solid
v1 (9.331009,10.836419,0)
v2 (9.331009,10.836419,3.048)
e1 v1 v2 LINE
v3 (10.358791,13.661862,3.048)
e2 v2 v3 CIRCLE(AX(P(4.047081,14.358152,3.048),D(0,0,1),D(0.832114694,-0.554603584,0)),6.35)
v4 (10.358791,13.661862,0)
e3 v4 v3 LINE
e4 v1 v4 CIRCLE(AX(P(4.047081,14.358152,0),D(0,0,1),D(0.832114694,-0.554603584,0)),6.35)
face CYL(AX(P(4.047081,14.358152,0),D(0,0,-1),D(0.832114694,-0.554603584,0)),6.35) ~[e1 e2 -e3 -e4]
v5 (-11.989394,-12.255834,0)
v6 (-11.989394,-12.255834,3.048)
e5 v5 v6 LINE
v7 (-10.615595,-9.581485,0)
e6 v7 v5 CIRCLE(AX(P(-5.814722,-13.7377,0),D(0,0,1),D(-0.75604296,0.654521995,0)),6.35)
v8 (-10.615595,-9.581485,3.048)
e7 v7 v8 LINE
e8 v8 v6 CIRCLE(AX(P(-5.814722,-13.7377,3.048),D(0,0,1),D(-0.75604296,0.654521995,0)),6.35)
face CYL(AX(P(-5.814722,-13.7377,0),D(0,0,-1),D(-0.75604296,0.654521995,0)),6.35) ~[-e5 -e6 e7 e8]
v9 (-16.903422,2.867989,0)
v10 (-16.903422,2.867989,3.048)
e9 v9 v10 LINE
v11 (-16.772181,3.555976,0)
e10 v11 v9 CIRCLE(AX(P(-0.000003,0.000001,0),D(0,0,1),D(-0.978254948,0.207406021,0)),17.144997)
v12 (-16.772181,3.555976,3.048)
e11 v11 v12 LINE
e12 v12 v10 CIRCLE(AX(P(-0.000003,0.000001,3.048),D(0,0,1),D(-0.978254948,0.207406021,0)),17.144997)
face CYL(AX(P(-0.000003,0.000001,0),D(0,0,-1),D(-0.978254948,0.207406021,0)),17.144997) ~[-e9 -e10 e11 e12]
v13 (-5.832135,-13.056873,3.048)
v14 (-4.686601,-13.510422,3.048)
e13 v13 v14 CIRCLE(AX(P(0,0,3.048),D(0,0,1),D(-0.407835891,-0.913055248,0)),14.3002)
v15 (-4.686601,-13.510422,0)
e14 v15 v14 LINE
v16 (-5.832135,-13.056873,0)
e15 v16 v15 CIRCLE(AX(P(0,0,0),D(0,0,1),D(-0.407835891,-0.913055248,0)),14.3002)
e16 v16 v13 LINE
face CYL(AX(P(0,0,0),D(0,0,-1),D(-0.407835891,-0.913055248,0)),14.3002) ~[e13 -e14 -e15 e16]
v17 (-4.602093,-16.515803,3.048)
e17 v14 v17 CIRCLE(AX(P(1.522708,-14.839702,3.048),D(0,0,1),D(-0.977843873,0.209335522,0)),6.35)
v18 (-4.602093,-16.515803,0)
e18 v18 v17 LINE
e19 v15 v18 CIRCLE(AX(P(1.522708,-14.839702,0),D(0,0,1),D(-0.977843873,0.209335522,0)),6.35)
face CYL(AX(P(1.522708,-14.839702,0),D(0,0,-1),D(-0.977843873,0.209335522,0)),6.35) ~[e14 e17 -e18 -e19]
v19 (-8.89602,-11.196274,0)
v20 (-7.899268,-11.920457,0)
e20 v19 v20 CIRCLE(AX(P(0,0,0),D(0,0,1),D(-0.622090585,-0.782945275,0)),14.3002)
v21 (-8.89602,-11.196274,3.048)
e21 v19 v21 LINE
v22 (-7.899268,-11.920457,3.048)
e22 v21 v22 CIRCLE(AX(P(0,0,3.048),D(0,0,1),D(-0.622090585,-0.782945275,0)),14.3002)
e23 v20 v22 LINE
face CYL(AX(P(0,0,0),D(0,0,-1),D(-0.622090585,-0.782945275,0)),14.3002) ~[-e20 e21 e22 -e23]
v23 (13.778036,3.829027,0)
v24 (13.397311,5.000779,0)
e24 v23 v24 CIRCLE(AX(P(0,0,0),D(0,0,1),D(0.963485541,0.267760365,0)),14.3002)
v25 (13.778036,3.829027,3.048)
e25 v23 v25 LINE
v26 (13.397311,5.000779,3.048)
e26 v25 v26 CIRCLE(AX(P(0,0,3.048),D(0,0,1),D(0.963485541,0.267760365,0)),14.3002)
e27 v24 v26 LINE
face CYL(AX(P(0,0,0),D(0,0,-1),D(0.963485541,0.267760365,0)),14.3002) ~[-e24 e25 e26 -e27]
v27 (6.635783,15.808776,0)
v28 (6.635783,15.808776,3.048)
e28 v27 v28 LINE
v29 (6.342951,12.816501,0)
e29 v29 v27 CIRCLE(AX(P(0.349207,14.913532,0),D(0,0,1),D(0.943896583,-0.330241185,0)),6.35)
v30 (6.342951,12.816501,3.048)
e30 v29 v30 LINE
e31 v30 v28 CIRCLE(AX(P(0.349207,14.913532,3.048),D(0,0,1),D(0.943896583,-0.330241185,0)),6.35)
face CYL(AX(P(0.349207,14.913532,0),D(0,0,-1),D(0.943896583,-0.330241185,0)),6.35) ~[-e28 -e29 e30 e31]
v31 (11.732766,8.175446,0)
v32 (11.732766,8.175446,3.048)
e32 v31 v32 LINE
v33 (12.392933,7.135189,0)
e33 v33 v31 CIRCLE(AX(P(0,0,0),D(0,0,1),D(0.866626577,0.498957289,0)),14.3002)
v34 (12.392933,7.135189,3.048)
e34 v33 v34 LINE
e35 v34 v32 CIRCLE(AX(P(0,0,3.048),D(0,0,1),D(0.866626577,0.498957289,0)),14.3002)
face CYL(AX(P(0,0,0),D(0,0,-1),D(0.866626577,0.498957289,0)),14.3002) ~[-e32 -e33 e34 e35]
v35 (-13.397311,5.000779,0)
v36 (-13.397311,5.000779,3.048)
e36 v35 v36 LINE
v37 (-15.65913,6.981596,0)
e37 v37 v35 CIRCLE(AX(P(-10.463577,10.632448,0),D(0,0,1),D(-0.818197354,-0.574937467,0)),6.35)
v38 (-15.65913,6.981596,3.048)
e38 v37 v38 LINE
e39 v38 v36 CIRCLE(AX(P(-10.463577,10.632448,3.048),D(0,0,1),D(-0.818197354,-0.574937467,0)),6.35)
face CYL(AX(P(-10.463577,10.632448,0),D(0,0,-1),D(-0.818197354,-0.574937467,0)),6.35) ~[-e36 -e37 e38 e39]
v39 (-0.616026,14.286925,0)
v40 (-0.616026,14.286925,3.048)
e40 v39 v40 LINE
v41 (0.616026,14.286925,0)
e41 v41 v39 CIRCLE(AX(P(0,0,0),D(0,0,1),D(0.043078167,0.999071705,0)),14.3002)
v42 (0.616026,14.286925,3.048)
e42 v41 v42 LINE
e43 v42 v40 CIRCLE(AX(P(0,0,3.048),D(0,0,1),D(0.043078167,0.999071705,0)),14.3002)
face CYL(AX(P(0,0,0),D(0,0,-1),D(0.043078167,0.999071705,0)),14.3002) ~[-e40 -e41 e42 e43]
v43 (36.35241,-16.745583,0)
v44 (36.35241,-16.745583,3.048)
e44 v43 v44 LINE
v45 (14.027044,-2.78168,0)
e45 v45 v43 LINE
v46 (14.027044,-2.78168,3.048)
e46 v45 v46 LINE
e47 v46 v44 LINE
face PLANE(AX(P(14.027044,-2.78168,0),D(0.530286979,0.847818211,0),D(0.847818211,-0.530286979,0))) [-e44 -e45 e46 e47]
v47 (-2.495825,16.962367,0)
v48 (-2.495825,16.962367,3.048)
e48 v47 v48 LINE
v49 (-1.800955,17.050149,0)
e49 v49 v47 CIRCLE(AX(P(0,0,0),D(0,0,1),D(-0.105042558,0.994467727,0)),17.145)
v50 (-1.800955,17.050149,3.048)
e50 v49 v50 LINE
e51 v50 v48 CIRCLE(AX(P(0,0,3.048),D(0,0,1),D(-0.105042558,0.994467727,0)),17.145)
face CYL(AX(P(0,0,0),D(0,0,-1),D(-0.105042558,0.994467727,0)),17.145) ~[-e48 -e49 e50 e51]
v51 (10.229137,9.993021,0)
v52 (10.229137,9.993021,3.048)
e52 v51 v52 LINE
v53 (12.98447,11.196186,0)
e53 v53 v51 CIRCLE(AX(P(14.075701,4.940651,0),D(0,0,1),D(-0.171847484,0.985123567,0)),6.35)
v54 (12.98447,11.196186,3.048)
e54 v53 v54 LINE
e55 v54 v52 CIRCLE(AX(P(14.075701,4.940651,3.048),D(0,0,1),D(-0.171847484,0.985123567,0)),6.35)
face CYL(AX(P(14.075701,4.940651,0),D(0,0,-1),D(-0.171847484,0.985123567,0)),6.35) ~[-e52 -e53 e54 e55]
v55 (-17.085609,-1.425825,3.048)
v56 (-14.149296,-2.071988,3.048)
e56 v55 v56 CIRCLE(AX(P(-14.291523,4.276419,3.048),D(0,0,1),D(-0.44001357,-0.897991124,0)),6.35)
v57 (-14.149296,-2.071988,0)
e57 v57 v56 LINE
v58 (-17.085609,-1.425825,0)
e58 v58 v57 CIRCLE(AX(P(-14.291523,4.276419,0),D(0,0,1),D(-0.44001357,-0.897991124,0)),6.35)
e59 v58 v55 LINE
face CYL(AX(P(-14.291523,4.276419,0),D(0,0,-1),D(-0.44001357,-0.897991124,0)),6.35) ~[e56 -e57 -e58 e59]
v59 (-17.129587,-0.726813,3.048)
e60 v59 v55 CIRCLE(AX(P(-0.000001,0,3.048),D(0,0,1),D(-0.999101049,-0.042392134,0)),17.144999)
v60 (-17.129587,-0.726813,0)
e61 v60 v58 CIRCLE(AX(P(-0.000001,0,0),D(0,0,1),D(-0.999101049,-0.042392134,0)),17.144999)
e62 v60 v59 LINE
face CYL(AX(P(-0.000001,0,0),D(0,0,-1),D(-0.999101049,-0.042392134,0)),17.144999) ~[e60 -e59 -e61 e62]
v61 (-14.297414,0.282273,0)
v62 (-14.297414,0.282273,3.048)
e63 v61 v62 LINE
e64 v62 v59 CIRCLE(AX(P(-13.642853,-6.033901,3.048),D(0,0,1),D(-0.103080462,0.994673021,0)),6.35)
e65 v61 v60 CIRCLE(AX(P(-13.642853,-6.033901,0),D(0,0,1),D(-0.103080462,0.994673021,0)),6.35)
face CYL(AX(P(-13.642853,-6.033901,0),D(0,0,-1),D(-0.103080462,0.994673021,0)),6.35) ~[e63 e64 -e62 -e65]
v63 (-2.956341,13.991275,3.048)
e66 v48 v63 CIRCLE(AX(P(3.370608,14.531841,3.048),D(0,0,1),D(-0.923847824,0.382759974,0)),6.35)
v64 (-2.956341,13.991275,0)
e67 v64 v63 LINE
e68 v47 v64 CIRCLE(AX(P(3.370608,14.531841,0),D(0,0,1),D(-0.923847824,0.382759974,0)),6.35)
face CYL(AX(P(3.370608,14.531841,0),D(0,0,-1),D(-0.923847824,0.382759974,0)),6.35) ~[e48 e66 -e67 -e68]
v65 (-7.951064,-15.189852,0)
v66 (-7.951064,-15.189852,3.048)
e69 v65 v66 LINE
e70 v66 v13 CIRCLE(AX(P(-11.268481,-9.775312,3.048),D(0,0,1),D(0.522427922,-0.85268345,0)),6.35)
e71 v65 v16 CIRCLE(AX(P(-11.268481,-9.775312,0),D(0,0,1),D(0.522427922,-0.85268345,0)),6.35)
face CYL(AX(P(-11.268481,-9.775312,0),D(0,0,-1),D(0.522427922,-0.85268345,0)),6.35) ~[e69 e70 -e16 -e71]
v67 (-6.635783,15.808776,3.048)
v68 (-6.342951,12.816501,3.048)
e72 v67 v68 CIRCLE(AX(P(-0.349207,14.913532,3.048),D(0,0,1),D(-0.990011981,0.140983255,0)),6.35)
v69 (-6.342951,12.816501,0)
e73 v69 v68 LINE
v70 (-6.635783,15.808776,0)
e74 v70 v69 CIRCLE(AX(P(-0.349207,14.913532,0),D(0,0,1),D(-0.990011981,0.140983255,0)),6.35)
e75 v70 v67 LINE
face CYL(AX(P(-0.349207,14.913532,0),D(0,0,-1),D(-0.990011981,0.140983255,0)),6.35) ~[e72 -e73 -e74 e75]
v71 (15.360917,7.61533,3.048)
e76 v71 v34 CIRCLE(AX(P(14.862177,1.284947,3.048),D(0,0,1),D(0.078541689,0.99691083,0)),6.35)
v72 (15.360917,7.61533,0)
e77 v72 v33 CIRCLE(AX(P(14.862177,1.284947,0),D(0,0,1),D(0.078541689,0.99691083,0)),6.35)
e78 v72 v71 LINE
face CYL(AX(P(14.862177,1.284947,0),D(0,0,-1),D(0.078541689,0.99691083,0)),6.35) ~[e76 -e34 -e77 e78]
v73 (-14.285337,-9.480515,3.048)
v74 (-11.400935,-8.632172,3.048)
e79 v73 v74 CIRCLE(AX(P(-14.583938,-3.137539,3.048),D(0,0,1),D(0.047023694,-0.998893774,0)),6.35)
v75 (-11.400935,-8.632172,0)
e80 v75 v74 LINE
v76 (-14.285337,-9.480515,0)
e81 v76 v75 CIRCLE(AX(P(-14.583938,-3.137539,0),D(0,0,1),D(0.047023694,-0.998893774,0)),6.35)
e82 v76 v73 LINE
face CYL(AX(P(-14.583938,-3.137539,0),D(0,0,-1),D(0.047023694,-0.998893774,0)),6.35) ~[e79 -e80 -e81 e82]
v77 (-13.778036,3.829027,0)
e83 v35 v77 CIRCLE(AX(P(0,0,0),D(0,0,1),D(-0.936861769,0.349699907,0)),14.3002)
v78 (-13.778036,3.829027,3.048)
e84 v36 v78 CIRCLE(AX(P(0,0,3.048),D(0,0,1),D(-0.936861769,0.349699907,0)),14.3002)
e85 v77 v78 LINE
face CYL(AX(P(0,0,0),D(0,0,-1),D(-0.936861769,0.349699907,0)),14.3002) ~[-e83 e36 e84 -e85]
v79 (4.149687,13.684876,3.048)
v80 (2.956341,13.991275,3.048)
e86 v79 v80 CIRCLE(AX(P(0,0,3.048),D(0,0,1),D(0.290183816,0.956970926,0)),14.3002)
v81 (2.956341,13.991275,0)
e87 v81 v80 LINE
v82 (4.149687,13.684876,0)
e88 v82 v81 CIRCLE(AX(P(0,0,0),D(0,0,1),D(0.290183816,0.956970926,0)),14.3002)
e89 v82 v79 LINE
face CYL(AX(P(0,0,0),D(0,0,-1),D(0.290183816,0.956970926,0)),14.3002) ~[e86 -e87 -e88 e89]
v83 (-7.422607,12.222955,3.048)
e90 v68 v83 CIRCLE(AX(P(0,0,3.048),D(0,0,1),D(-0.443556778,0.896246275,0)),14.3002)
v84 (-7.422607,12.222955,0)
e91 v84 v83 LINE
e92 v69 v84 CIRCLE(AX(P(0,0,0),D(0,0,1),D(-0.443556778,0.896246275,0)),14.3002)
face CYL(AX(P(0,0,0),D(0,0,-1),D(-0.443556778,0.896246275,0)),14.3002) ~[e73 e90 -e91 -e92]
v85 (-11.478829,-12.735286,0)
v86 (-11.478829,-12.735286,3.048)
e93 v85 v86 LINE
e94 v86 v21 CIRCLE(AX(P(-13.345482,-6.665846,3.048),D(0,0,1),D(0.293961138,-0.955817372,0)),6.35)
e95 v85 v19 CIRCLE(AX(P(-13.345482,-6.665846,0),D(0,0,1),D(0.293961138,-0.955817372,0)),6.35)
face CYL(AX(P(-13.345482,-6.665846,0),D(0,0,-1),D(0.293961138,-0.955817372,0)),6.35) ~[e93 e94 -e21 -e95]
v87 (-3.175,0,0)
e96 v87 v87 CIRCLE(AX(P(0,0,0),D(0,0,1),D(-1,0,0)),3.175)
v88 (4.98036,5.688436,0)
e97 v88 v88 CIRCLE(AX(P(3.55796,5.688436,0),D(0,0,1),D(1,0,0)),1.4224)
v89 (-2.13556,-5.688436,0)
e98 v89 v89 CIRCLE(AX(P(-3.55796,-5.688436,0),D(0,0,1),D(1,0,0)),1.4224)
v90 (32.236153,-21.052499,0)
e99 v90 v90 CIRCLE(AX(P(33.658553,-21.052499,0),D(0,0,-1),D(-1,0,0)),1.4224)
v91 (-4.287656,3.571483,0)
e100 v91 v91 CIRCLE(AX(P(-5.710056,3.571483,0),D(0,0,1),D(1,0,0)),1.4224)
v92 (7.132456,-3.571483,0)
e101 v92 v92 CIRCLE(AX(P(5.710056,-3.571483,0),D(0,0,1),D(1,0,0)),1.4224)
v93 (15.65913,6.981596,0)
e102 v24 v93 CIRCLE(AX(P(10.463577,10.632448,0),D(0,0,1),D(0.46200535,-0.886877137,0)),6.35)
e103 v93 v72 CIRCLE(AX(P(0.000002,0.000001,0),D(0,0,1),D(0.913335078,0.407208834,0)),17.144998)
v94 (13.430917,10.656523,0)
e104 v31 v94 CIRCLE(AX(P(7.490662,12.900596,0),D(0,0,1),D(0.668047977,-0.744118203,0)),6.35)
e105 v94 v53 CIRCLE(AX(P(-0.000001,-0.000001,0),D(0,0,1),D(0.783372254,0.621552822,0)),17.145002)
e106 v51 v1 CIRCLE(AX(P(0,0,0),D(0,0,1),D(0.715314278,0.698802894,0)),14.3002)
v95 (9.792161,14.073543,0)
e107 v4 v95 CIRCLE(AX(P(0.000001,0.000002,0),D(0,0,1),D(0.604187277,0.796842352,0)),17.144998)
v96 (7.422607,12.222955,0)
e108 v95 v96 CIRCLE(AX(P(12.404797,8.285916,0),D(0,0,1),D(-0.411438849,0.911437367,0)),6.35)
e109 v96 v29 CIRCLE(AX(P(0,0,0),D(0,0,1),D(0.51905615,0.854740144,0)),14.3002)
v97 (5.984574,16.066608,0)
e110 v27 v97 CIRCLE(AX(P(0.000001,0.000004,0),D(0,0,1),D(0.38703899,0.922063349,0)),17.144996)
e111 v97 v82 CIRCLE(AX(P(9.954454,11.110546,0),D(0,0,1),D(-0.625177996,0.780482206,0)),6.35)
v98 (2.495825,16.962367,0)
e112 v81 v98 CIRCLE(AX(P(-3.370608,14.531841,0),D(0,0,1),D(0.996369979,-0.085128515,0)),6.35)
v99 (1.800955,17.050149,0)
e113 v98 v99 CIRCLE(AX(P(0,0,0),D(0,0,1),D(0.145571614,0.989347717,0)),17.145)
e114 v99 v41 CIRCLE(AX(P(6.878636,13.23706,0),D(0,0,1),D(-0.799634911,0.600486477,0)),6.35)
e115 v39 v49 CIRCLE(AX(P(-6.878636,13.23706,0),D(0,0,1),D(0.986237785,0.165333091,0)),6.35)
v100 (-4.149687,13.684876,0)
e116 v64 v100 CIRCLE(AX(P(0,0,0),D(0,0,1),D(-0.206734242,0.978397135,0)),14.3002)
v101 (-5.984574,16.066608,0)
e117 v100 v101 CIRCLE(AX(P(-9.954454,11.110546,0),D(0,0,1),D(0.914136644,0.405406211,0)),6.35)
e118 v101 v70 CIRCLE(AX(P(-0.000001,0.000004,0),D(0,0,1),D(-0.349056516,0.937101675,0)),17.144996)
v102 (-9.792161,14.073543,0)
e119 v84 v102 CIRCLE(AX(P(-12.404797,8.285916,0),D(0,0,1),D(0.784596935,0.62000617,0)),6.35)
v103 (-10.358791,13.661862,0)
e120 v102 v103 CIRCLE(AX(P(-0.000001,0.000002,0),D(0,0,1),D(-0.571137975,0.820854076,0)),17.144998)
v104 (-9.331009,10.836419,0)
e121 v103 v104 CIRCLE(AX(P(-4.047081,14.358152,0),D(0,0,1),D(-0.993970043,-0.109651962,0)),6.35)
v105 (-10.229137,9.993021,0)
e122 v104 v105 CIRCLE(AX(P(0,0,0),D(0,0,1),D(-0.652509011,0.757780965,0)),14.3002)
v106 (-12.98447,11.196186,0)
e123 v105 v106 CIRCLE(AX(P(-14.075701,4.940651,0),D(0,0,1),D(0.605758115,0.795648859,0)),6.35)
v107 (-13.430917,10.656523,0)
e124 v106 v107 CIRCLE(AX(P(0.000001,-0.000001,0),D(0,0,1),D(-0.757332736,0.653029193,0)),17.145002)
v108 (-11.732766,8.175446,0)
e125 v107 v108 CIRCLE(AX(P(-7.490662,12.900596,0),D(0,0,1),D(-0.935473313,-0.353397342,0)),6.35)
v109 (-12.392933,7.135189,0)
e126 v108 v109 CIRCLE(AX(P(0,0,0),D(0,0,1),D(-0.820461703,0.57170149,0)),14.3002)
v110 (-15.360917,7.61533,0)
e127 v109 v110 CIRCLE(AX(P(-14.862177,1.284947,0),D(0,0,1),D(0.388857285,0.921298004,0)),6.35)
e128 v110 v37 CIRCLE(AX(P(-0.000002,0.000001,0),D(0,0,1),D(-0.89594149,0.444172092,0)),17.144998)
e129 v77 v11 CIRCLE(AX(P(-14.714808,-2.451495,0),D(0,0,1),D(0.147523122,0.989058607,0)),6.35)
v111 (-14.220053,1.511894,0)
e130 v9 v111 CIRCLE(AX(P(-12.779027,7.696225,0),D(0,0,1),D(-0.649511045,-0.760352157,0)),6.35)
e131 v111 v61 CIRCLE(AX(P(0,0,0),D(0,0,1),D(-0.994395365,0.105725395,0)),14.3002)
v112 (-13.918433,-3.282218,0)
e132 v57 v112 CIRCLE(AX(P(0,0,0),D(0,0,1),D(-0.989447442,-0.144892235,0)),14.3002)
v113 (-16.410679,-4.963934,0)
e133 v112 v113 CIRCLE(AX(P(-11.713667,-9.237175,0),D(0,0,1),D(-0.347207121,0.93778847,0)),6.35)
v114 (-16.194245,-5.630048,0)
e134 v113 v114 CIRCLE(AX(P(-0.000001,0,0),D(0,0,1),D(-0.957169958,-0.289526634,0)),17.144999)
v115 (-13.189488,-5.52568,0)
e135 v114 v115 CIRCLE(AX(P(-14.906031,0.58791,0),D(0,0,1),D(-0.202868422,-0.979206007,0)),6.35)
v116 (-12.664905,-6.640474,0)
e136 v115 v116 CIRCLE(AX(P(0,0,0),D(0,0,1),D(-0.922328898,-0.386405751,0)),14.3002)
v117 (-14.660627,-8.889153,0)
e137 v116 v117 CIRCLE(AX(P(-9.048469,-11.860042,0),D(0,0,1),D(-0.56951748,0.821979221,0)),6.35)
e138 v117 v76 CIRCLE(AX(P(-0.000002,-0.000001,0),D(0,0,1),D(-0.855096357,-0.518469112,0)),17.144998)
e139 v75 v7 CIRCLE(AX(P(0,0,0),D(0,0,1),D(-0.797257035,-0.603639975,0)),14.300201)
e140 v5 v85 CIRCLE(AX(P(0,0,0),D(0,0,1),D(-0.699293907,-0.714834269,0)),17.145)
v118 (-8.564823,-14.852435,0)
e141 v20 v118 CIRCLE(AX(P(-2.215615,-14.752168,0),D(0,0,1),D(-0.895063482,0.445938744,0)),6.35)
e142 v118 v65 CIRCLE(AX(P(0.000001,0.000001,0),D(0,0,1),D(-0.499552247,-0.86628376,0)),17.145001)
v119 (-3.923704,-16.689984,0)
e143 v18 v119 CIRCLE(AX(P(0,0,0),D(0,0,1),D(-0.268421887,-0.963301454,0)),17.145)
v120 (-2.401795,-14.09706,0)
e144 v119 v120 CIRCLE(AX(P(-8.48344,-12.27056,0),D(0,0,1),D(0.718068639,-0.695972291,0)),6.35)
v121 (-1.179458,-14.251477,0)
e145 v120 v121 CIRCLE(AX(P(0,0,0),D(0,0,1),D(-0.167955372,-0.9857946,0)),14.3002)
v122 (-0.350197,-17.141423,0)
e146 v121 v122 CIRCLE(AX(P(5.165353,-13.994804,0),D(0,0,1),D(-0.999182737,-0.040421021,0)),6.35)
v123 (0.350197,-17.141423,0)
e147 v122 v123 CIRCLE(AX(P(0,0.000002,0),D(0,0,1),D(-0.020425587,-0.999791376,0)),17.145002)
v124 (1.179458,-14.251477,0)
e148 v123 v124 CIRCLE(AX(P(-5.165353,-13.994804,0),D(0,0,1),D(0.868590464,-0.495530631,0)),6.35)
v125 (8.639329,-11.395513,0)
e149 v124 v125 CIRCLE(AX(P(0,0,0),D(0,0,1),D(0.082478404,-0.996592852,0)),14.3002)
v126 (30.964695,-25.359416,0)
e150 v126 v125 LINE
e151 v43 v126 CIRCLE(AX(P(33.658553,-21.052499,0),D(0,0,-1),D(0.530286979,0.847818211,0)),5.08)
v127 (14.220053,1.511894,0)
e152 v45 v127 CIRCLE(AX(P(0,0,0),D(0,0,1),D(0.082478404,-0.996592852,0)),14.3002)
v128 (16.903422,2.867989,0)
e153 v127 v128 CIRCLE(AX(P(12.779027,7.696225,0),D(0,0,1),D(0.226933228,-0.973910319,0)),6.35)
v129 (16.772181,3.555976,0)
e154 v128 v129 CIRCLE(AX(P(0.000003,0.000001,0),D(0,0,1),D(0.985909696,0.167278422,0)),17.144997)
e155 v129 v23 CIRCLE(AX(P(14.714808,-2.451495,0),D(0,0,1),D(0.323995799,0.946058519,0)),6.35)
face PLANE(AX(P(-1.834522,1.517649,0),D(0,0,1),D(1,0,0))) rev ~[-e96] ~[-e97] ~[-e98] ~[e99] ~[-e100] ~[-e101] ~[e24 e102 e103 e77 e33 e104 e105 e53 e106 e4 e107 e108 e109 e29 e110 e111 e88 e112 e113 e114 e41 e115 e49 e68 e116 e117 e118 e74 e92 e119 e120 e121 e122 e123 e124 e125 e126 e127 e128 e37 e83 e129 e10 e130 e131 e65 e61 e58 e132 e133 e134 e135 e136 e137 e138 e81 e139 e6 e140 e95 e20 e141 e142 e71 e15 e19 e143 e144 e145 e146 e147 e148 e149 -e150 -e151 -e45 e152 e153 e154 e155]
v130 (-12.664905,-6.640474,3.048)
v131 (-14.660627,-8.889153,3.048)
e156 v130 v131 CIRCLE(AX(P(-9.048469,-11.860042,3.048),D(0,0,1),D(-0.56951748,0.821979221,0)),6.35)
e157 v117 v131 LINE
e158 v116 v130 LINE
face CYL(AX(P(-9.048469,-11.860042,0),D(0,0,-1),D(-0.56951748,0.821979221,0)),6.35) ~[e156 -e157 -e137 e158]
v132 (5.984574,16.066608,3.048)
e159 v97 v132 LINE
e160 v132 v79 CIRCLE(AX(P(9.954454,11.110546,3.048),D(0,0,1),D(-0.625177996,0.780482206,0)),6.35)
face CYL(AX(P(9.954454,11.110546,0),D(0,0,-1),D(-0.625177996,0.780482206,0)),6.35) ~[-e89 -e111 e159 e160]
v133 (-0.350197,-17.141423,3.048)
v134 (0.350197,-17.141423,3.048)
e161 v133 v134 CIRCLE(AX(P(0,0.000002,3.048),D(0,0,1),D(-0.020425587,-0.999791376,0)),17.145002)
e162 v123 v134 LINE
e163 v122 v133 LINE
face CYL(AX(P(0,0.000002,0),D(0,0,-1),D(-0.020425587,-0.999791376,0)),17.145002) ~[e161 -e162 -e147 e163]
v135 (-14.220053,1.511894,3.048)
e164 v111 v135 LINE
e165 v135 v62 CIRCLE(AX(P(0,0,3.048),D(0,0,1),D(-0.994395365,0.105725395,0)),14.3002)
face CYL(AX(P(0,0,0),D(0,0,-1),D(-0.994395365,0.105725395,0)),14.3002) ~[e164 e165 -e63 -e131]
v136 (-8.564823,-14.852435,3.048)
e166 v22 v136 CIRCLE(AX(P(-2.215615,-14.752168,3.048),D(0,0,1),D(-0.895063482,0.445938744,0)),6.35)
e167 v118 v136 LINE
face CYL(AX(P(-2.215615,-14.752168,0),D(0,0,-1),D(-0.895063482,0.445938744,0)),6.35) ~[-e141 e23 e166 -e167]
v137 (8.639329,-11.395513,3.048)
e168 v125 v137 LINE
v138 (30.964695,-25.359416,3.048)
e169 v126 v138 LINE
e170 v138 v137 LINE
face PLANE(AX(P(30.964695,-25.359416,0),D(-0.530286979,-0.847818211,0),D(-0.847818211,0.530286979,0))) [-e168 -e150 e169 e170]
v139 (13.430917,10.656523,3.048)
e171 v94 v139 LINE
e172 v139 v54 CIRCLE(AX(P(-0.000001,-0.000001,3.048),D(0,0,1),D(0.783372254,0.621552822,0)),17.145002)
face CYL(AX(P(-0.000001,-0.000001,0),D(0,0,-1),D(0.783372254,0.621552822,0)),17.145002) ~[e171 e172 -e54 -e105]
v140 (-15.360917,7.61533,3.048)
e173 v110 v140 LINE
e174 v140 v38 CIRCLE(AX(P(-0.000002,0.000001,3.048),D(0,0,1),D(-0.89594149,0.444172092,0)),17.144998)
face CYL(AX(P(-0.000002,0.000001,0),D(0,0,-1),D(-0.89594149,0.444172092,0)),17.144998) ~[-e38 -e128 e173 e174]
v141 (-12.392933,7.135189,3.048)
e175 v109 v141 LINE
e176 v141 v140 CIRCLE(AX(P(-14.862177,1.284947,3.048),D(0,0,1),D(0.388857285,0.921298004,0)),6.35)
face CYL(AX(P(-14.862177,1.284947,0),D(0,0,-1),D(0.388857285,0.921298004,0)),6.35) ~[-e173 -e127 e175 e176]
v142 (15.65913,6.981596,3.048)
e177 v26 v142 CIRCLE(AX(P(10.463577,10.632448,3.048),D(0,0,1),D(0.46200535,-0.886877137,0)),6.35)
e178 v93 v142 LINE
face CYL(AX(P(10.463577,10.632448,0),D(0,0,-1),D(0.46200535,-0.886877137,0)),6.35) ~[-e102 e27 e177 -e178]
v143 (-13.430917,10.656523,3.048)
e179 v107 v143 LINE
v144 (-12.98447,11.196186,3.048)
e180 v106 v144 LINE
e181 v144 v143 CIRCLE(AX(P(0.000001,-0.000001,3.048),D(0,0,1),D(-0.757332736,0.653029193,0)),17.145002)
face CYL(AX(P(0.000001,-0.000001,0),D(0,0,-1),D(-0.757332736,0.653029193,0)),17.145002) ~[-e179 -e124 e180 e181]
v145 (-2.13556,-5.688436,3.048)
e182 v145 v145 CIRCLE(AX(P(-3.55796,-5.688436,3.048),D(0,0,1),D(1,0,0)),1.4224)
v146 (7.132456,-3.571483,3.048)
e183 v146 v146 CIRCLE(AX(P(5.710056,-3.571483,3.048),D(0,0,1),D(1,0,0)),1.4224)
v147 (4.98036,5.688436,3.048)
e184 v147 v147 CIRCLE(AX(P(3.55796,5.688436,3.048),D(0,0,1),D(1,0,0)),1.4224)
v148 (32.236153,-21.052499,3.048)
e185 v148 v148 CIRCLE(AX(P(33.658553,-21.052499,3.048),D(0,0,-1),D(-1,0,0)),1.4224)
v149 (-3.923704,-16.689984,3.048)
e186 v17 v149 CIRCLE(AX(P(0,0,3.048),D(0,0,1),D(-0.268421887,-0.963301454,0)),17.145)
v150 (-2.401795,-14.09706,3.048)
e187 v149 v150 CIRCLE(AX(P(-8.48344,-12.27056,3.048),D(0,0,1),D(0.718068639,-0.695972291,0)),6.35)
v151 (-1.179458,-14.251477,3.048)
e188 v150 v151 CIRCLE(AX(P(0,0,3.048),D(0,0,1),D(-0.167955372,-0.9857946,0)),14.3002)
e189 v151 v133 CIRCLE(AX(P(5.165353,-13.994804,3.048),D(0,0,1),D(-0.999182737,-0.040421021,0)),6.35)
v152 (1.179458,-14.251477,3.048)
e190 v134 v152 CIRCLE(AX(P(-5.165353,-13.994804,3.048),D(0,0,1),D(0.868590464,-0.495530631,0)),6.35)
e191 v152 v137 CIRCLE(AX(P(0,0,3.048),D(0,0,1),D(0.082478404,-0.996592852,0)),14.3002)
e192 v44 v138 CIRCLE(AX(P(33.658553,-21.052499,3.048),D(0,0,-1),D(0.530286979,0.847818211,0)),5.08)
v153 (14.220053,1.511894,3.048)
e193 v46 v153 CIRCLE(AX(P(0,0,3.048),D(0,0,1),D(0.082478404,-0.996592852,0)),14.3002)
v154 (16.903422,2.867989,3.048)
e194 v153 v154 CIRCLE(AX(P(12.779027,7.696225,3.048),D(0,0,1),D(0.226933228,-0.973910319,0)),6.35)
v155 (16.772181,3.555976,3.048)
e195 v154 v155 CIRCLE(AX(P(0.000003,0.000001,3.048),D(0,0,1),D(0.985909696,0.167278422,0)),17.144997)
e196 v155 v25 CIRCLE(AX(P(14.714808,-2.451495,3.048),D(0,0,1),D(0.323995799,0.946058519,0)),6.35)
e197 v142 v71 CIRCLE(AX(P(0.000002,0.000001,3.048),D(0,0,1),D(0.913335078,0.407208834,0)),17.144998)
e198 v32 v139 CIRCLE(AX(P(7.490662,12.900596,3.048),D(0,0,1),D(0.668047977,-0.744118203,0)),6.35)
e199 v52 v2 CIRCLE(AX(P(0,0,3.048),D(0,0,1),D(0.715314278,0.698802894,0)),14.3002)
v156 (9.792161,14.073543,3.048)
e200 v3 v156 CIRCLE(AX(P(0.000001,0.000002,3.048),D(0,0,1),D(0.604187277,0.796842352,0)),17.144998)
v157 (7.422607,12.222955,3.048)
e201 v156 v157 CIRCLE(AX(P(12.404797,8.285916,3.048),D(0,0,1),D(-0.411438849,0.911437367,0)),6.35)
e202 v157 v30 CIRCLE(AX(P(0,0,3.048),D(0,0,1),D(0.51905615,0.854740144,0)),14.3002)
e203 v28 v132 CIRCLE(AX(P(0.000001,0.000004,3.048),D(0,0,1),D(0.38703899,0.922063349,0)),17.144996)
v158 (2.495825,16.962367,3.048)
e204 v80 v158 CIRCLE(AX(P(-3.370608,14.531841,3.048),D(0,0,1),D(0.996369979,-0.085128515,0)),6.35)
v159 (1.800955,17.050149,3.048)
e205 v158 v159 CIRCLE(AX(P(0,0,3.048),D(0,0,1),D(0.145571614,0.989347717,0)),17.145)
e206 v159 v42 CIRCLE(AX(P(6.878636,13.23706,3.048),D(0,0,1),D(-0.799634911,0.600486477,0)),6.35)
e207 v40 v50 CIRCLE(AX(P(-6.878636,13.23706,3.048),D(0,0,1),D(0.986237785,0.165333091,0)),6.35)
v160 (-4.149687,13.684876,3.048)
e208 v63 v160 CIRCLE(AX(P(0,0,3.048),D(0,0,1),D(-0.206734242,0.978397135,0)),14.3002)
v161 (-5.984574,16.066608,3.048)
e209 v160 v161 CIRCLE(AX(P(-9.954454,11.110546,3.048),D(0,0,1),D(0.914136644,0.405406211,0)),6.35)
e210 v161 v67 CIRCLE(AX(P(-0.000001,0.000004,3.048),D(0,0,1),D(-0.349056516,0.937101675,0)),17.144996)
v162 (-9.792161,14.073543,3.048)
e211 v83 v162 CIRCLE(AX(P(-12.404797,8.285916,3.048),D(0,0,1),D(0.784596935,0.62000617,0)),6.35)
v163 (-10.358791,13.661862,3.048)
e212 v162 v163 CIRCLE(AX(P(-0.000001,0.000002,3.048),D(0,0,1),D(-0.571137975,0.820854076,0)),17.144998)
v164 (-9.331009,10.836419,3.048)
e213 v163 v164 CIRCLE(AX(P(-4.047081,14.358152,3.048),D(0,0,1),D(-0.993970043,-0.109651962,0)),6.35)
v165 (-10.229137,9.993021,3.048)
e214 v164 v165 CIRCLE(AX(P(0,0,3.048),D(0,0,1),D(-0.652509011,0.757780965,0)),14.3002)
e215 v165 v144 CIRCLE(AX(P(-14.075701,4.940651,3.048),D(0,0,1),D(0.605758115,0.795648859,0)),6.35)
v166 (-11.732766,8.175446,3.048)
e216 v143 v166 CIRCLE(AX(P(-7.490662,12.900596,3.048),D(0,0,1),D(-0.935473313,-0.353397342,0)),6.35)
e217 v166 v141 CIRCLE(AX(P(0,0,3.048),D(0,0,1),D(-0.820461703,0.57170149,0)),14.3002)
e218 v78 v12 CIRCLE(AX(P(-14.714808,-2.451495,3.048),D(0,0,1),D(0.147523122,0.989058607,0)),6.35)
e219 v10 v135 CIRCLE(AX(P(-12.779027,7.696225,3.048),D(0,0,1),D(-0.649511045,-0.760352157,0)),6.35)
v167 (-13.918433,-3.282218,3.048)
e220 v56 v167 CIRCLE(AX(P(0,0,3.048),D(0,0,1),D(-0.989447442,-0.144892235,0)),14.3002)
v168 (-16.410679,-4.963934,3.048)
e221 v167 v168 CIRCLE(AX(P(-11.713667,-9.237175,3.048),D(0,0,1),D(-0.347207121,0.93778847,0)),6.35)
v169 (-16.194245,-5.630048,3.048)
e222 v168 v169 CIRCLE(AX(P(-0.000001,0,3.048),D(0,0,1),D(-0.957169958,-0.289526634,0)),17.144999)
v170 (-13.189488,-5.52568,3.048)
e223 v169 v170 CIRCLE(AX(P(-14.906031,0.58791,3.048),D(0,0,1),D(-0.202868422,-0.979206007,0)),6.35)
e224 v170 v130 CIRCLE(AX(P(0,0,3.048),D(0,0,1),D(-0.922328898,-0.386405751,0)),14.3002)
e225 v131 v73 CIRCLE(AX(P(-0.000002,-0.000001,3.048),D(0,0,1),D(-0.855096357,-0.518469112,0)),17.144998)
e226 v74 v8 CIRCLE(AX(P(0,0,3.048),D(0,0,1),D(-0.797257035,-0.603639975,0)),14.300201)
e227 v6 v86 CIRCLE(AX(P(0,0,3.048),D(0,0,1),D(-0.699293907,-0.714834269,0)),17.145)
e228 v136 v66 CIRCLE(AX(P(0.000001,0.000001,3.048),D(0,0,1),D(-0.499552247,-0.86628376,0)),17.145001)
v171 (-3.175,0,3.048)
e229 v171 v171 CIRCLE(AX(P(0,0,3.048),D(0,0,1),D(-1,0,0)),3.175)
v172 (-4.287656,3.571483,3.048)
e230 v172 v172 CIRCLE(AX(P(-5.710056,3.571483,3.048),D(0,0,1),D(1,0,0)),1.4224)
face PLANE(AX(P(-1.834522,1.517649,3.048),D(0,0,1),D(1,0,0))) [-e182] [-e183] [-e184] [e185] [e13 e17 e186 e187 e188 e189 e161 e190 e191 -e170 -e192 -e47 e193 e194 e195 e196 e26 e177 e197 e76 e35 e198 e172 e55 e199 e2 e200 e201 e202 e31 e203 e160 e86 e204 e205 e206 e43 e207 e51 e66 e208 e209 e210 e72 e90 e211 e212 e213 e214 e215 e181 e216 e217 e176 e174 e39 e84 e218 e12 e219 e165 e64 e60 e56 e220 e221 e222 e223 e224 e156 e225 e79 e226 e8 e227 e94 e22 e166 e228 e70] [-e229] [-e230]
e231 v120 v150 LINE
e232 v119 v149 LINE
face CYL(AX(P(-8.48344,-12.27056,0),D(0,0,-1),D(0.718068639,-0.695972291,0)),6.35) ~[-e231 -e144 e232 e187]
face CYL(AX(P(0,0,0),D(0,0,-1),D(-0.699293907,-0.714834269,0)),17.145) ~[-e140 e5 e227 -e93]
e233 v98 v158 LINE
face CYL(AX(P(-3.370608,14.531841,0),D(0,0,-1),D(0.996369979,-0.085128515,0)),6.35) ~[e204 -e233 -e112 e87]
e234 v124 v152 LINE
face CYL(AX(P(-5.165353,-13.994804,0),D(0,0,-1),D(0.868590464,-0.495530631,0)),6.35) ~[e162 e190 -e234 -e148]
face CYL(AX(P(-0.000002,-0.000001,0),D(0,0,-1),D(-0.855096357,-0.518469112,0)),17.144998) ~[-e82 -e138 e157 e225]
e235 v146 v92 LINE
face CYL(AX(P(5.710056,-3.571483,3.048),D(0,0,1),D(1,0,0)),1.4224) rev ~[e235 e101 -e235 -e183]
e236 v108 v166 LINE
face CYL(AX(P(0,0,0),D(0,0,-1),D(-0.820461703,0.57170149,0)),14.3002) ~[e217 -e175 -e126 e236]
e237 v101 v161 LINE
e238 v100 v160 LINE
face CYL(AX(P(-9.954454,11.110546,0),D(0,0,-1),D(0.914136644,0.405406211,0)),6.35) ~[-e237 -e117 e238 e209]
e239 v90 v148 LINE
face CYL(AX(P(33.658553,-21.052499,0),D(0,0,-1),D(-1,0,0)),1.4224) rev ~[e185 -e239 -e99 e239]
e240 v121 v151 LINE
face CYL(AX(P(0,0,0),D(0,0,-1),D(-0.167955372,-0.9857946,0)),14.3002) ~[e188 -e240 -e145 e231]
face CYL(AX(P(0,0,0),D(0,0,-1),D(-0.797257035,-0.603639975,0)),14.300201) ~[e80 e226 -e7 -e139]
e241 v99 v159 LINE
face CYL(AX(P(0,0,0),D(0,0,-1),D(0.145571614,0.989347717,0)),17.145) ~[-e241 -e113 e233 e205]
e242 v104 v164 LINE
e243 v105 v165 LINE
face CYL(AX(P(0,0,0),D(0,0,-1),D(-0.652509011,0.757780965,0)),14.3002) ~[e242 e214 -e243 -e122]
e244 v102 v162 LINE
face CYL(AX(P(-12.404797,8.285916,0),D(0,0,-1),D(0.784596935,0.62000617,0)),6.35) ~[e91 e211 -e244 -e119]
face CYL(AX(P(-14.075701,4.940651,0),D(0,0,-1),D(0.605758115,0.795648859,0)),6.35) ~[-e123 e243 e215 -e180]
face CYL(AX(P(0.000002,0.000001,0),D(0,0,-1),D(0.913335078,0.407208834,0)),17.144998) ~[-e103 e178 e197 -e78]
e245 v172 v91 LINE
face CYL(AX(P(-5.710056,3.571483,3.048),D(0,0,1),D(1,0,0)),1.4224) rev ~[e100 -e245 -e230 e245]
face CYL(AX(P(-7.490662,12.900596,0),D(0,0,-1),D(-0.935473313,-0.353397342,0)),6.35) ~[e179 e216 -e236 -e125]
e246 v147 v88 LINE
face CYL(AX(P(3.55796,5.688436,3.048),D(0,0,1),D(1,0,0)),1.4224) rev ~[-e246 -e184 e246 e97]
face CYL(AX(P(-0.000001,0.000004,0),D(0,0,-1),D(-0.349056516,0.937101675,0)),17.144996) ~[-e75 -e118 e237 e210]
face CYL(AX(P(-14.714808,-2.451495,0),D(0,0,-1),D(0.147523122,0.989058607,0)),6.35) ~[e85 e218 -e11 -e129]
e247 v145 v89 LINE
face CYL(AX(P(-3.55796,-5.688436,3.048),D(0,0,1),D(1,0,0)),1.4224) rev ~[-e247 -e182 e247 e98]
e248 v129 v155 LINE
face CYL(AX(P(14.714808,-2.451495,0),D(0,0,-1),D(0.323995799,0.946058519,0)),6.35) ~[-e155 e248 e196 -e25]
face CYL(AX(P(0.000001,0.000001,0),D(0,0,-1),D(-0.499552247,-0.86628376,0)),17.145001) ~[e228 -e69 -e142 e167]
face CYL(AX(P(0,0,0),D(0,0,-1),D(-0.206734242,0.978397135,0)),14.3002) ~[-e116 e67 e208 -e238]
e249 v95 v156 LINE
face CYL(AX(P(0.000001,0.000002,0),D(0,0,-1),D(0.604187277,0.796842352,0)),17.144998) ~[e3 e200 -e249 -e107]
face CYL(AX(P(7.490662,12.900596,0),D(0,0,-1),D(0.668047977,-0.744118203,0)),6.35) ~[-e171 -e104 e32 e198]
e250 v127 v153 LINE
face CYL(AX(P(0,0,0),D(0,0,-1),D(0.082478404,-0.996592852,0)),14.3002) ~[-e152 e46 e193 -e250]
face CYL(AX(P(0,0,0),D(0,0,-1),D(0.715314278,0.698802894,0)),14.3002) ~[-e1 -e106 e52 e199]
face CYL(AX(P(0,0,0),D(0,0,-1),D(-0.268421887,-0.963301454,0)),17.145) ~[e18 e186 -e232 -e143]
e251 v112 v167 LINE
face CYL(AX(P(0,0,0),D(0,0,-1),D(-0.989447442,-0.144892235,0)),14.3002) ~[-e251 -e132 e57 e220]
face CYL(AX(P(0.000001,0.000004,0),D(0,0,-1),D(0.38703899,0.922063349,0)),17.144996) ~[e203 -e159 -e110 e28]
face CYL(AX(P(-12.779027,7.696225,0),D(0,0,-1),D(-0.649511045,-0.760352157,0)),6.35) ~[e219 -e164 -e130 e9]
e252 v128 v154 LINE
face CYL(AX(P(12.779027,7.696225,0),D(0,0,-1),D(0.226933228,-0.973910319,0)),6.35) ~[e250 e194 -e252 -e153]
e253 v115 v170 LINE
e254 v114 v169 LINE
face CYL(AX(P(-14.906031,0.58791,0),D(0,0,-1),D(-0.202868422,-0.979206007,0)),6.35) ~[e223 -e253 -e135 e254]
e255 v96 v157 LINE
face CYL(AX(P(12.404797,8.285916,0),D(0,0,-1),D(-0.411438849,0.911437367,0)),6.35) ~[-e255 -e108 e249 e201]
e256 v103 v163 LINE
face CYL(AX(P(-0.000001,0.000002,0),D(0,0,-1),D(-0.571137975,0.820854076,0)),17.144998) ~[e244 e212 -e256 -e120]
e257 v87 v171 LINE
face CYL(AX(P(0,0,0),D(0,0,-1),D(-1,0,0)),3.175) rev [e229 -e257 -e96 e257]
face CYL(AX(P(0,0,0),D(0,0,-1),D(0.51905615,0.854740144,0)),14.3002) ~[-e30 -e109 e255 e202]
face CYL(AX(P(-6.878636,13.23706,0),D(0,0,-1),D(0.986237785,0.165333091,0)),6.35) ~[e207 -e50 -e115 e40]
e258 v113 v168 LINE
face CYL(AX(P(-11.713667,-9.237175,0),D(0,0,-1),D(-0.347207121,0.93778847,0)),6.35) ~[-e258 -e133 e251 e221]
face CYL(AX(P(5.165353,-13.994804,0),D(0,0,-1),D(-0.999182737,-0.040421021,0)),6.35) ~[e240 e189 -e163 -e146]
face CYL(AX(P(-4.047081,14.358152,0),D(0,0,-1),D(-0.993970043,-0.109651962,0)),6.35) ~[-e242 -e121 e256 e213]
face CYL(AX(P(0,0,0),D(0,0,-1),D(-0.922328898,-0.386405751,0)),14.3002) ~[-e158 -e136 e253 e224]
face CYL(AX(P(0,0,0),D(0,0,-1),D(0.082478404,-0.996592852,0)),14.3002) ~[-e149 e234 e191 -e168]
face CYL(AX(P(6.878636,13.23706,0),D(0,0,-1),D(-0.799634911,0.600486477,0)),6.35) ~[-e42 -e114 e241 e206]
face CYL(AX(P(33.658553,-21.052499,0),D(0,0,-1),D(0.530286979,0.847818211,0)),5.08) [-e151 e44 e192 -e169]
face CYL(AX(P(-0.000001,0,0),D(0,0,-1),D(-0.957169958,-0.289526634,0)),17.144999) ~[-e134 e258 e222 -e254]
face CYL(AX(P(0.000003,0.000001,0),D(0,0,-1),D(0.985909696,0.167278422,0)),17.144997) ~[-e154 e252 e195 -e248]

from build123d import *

# Parameters (mm, degrees)
MODEL_R             = 3.175
BOSS_EXTRUDE1_DEPTH = 3.048
SKETCH2_R           = 1.4224
BOSS_EXTRUDE2_DEPTH = 3.048
SKETCH3_R           = 1.4224
SKETCH3_R_2         = 0.475
CUT_EXTRUDE1_DEPTH  = 47.828124767


with BuildPart() as part:
    # Model → Boss-Extrude1 (new body)
    with BuildSketch(Plane.XY):
        with BuildLine():
            ThreePointArc((-0.616026415, 14.286925194), (-1.042592722, 15.739677645), (-1.800954663, 17.050149187))
            ThreePointArc((-1.800954663, 17.050149187), (-2.148838289, 17.009806554), (-2.495825317, 16.962366609))
            ThreePointArc((-2.495825317, 16.962366609), (-2.904460903, 15.504468994), (-2.956341002, 13.991274707))
            ThreePointArc((-2.956341002, 13.991274707), (-3.556315124, 13.850932921), (-4.149686627, 13.684875627))
            ThreePointArc((-4.149686627, 13.684875627), (-4.924136412, 14.985904462), (-5.984574038, 16.066608185))
            ThreePointArc((-5.984574038, 16.066608185), (-6.311495456, 15.941017851), (-6.635783413, 15.808776154))
            ThreePointArc((-6.635783413, 15.808776154), (-6.669016568, 14.295057536), (-6.342950641, 12.816500973))
            ThreePointArc((-6.342950641, 12.816500973), (-6.88917389, 12.531360786), (-7.422606766, 12.222954996))
            ThreePointArc((-7.422606766, 12.222954996), (-8.496278501, 13.290511787), (-9.792160616, 14.073543103))
            ThreePointArc((-9.792160616, 14.073543103), (-10.077578151, 13.870596369), (-10.358790833, 13.661862153))
            ThreePointArc((-10.358790833, 13.661862153), (-10.014533394, 12.187435039), (-9.331009364, 10.836419348))
            ThreePointArc((-9.331009364, 10.836419348), (-9.789160524, 10.424397166), (-10.229137224, 9.993021149))
            ThreePointArc((-10.229137224, 9.993021149), (-11.534568165, 10.760027378), (-12.98446973, 11.196185548))
            ThreePointArc((-12.98446973, 11.196185548), (-13.210449547, 10.928634304), (-13.430917328, 10.656523107))
            ThreePointArc((-13.430917328, 10.656523107), (-12.730800257, 9.314031176), (-11.732766451, 8.175445642))
            ThreePointArc((-11.732766451, 8.175445642), (-12.0740582, 7.662430334), (-12.39293337, 7.135189032))
            ThreePointArc((-12.39293337, 7.135189032), (-13.84809849, 7.553450876), (-15.360916858, 7.615330478))
            ThreePointArc((-15.360916858, 7.615330478), (-15.513259815, 7.299985954), (-15.659129891, 6.981595523))
            ThreePointArc((-15.659129891, 6.981595523), (-14.647144119, 5.85539248), (-13.397310672, 5.000778618))
            ThreePointArc((-13.397310672, 5.000778618), (-13.600298394, 4.419004823), (-13.778035935, 3.829026746))
            ThreePointArc((-13.778035935, 3.829026746), (-15.291501858, 3.872263276), (-16.772181085, 3.555976188))
            ThreePointArc((-16.772181085, 3.555976188), (-16.841314914, 3.212652639), (-16.903421733, 2.867988616))
            ThreePointArc((-16.903421733, 2.867988616), (-15.643154047, 2.02883794), (-14.220052592, 1.511894283))
            ThreePointArc((-14.220052592, 1.511894283), (-14.271981822, 0.897916987), (-14.297413829, 0.282272628))
            ThreePointArc((-14.297413829, 0.282272628), (-15.774083925, -0.052232867), (-17.129587491, -0.726813165))
            ThreePointArc((-17.129587491, -0.726813165), (-17.111168259, -1.076543457), (-17.085609422, -1.425824564))
            ThreePointArc((-17.085609422, -1.425824564), (-15.656247076, -1.92519595), (-14.14929631, -2.071987931))
            ThreePointArc((-14.14929631, -2.071987931), (-14.046904143, -2.679590275), (-13.918432631, -3.282217718))
            ThreePointArc((-13.918432631, -3.282217718), (-15.265522286, -3.973447027), (-16.410678917, -4.963934173))
            ThreePointArc((-16.410678917, -4.963934173), (-16.305863972, -5.298096369), (-16.194245434, -5.630047943))
            ThreePointArc((-16.194245434, -5.630047943), (-14.68560052, -5.758262697), (-13.189487703, -5.525679522))
            ThreePointArc((-13.189487703, -5.525679522), (-12.939207816, -6.088729025), (-12.664905121, -6.640474253))
            ThreePointArc((-12.664905121, -6.640474253), (-13.797771739, -7.644994897), (-14.660627033, -8.889152941))
            ThreePointArc((-14.660627033, -8.889152941), (-14.476002283, -9.1867504), (-14.285337446, -9.480514703))
            ThreePointArc((-14.285337446, -9.480514703), (-12.792203675, -9.229516622), (-11.400935076, -8.632172348))
            ThreePointArc((-11.400935076, -8.632172348), (-11.018493474, -9.115290538), (-10.615595045, -9.581485369))
            ThreePointArc((-10.615595045, -9.581485369), (-11.46305645, -10.836179621), (-11.989394033, -12.255833538))
            ThreePointArc((-11.989394033, -12.255833538), (-11.736560131, -12.498167117), (-11.47882917, -12.735285858))
            ThreePointArc((-11.47882917, -12.735285858), (-10.095025626, -12.120846074), (-8.896019768, -11.196274037))
            ThreePointArc((-8.896019768, -11.196274037), (-8.405446665, -11.569104823), (-7.899268091, -11.920456521))
            ThreePointArc((-7.899268091, -11.920456521), (-8.408075165, -13.346487327), (-8.564823313, -14.85243504))
            ThreePointArc((-8.564823313, -14.85243504), (-8.259666742, -15.024278029), (-7.95106384, -15.189852165))
            ThreePointArc((-7.95106384, -15.189852165), (-6.76353999, -14.25057819), (-5.832134822, -13.056872652))
            ThreePointArc((-5.832134822, -13.056872652), (-5.264254728, -13.295989703), (-4.686601071, -13.510421549))
            ThreePointArc((-4.686601071, -13.510421549), (-4.824783595, -15.018186149), (-4.602093245, -16.515803425))
            ThreePointArc((-4.602093245, -16.515803425), (-4.263788115, -16.606358298), (-3.923703928, -16.689984197))
            ThreePointArc((-3.923703928, -16.689984197), (-3.007076261, -15.484894068), (-2.401795395, -14.097059939))
            ThreePointArc((-2.401795395, -14.097059939), (-1.792290307, -14.187438652), (-1.17945767, -14.251477104))
            ThreePointArc((-1.17945767, -14.251477104), (-0.938333127, -15.746237102), (-0.350196733, -17.14142314))
            ThreePointArc((-0.350196733, -17.14142314), (0, -17.145), (0.350196733, -17.14142314))
            ThreePointArc((0.350196733, -17.14142314), (0.938333127, -15.746237102), (1.17945767, -14.251477104))
            ThreePointArc((1.17945767, -14.251477104), (11.018493474, -9.115290538), (14.220052592, 1.511894283))
            ThreePointArc((14.220052592, 1.511894283), (15.643154047, 2.02883794), (16.903421733, 2.867988616))
            ThreePointArc((16.903421733, 2.867988616), (16.841314914, 3.212652639), (16.772181085, 3.555976188))
            ThreePointArc((16.772181085, 3.555976188), (15.291501858, 3.872263276), (13.778035935, 3.829026746))
            ThreePointArc((13.778035935, 3.829026746), (13.600298394, 4.419004823), (13.397310672, 5.000778619))
            ThreePointArc((13.397310672, 5.000778618), (14.647144119, 5.85539248), (15.659129891, 6.981595523))
            ThreePointArc((15.659129891, 6.981595523), (15.513259815, 7.299985954), (15.360916858, 7.615330478))
            ThreePointArc((15.360916858, 7.615330478), (13.84809849, 7.553450876), (12.39293337, 7.135189032))
            ThreePointArc((12.39293337, 7.135189032), (12.0740582, 7.662430334), (11.732766451, 8.175445642))
            ThreePointArc((11.732766451, 8.175445642), (12.730800257, 9.314031176), (13.430917328, 10.656523107))
            ThreePointArc((13.430917328, 10.656523107), (13.210449547, 10.928634304), (12.98446973, 11.196185548))
            ThreePointArc((12.98446973, 11.196185548), (11.534568165, 10.760027378), (10.229137224, 9.993021149))
            ThreePointArc((10.229137224, 9.993021149), (9.789160524, 10.424397166), (9.331009364, 10.836419348))
            ThreePointArc((9.331009364, 10.836419348), (10.014533394, 12.187435039), (10.358790833, 13.661862153))
            ThreePointArc((10.358790833, 13.661862153), (10.077578151, 13.870596369), (9.792160616, 14.073543103))
            ThreePointArc((9.792160616, 14.073543103), (8.496278501, 13.290511787), (7.422606766, 12.222954996))
            ThreePointArc((7.422606766, 12.222954996), (6.88917389, 12.531360786), (6.342950641, 12.816500974))
            ThreePointArc((6.342950641, 12.816500973), (6.669016568, 14.295057536), (6.635783413, 15.808776154))
            ThreePointArc((6.635783413, 15.808776154), (6.311495456, 15.941017851), (5.984574038, 16.066608185))
            ThreePointArc((5.984574038, 16.066608185), (4.924136412, 14.985904462), (4.149686627, 13.684875627))
            ThreePointArc((4.149686627, 13.684875628), (3.556315124, 13.850932921), (2.956341002, 13.991274707))
            ThreePointArc((2.956341002, 13.991274707), (2.904460903, 15.504468994), (2.495825317, 16.962366609))
            ThreePointArc((2.495825317, 16.962366609), (2.148838289, 17.009806554), (1.800954663, 17.050149187))
            ThreePointArc((1.800954663, 17.050149187), (1.042592722, 15.739677645), (0.616026415, 14.286925194))
            ThreePointArc((0.616026415, 14.286925194), (0, 14.3002), (-0.616026415, 14.286925194))
        make_face()
        with Locations(Location((0, 0, 0), (0, 0, 180))):
            Circle(MODEL_R, mode=Mode.SUBTRACT)
    extrude(amount=BOSS_EXTRUDE1_DEPTH)

    # Sketch2 → Boss-Extrude2 (add)
    with BuildSketch(Plane(origin=(0, 0, 0), x_dir=(-1, 0, 0), z_dir=(0, 0, -1))):
        with BuildLine():
            Line((-30.964694704, -25.359415647), (-8.63932874, -11.395513106))
            ThreePointArc((-8.63932874, -11.395513106), (-12.123969987, -7.58320986), (-14.027044449, -2.781680078))
            Line((-14.027044449, -2.781680078), (-36.352410413, -16.745582618))
            ThreePointArc((-36.352410413, -16.745582618), (-37.965469072, -23.746356987), (-30.964694704, -25.359415647))
        make_face()
        with Locations((-33.658552558, -21.052499132)):
            Circle(SKETCH2_R, mode=Mode.SUBTRACT)
    extrude(amount=-BOSS_EXTRUDE2_DEPTH)

    # Sketch3 → Cut-Extrude1 (cut, through all)
    # profile 1 of 6: a face of its own
    with BuildSketch(Plane.XY.offset(3.048)):
        with Locations((-5.710055654, 3.571482805)):
            Circle(SKETCH3_R)
        with Locations((-5.710055654, 3.571482805)):
            Circle(SKETCH3_R_2, mode=Mode.SUBTRACT)
    # profile 2 of 6: a face of its own
    with BuildSketch(Plane.XY.offset(3.048)):
        with Locations((3.557960487, 5.68843629)):
            Circle(SKETCH3_R)
        with Locations((3.557960487, 5.68843629)):
            Circle(SKETCH3_R_2, mode=Mode.SUBTRACT)
    # profile 3 of 6: a face of its own
    with BuildSketch(Plane.XY.offset(3.048)):
        with Locations((-5.710055654, 3.571482805)):
            Circle(SKETCH3_R_2)
    # profile 4 of 6: a face of its own
    with BuildSketch(Plane.XY.offset(3.048)):
        with Locations((3.557960487, 5.68843629)):
            Circle(SKETCH3_R_2)
    # profile 5 of 6: a face of its own
    with BuildSketch(Plane.XY.offset(3.048)):
        with Locations((5.710055654, -3.571482805)):
            Circle(SKETCH3_R)
    # profile 6 of 6: a face of its own
    with BuildSketch(Plane.XY.offset(3.048)):
        with Locations((-3.557960487, -5.68843629)):
            Circle(SKETCH3_R)
    extrude(amount=-CUT_EXTRUDE1_DEPTH, mode=Mode.SUBTRACT)


solid = part.part
